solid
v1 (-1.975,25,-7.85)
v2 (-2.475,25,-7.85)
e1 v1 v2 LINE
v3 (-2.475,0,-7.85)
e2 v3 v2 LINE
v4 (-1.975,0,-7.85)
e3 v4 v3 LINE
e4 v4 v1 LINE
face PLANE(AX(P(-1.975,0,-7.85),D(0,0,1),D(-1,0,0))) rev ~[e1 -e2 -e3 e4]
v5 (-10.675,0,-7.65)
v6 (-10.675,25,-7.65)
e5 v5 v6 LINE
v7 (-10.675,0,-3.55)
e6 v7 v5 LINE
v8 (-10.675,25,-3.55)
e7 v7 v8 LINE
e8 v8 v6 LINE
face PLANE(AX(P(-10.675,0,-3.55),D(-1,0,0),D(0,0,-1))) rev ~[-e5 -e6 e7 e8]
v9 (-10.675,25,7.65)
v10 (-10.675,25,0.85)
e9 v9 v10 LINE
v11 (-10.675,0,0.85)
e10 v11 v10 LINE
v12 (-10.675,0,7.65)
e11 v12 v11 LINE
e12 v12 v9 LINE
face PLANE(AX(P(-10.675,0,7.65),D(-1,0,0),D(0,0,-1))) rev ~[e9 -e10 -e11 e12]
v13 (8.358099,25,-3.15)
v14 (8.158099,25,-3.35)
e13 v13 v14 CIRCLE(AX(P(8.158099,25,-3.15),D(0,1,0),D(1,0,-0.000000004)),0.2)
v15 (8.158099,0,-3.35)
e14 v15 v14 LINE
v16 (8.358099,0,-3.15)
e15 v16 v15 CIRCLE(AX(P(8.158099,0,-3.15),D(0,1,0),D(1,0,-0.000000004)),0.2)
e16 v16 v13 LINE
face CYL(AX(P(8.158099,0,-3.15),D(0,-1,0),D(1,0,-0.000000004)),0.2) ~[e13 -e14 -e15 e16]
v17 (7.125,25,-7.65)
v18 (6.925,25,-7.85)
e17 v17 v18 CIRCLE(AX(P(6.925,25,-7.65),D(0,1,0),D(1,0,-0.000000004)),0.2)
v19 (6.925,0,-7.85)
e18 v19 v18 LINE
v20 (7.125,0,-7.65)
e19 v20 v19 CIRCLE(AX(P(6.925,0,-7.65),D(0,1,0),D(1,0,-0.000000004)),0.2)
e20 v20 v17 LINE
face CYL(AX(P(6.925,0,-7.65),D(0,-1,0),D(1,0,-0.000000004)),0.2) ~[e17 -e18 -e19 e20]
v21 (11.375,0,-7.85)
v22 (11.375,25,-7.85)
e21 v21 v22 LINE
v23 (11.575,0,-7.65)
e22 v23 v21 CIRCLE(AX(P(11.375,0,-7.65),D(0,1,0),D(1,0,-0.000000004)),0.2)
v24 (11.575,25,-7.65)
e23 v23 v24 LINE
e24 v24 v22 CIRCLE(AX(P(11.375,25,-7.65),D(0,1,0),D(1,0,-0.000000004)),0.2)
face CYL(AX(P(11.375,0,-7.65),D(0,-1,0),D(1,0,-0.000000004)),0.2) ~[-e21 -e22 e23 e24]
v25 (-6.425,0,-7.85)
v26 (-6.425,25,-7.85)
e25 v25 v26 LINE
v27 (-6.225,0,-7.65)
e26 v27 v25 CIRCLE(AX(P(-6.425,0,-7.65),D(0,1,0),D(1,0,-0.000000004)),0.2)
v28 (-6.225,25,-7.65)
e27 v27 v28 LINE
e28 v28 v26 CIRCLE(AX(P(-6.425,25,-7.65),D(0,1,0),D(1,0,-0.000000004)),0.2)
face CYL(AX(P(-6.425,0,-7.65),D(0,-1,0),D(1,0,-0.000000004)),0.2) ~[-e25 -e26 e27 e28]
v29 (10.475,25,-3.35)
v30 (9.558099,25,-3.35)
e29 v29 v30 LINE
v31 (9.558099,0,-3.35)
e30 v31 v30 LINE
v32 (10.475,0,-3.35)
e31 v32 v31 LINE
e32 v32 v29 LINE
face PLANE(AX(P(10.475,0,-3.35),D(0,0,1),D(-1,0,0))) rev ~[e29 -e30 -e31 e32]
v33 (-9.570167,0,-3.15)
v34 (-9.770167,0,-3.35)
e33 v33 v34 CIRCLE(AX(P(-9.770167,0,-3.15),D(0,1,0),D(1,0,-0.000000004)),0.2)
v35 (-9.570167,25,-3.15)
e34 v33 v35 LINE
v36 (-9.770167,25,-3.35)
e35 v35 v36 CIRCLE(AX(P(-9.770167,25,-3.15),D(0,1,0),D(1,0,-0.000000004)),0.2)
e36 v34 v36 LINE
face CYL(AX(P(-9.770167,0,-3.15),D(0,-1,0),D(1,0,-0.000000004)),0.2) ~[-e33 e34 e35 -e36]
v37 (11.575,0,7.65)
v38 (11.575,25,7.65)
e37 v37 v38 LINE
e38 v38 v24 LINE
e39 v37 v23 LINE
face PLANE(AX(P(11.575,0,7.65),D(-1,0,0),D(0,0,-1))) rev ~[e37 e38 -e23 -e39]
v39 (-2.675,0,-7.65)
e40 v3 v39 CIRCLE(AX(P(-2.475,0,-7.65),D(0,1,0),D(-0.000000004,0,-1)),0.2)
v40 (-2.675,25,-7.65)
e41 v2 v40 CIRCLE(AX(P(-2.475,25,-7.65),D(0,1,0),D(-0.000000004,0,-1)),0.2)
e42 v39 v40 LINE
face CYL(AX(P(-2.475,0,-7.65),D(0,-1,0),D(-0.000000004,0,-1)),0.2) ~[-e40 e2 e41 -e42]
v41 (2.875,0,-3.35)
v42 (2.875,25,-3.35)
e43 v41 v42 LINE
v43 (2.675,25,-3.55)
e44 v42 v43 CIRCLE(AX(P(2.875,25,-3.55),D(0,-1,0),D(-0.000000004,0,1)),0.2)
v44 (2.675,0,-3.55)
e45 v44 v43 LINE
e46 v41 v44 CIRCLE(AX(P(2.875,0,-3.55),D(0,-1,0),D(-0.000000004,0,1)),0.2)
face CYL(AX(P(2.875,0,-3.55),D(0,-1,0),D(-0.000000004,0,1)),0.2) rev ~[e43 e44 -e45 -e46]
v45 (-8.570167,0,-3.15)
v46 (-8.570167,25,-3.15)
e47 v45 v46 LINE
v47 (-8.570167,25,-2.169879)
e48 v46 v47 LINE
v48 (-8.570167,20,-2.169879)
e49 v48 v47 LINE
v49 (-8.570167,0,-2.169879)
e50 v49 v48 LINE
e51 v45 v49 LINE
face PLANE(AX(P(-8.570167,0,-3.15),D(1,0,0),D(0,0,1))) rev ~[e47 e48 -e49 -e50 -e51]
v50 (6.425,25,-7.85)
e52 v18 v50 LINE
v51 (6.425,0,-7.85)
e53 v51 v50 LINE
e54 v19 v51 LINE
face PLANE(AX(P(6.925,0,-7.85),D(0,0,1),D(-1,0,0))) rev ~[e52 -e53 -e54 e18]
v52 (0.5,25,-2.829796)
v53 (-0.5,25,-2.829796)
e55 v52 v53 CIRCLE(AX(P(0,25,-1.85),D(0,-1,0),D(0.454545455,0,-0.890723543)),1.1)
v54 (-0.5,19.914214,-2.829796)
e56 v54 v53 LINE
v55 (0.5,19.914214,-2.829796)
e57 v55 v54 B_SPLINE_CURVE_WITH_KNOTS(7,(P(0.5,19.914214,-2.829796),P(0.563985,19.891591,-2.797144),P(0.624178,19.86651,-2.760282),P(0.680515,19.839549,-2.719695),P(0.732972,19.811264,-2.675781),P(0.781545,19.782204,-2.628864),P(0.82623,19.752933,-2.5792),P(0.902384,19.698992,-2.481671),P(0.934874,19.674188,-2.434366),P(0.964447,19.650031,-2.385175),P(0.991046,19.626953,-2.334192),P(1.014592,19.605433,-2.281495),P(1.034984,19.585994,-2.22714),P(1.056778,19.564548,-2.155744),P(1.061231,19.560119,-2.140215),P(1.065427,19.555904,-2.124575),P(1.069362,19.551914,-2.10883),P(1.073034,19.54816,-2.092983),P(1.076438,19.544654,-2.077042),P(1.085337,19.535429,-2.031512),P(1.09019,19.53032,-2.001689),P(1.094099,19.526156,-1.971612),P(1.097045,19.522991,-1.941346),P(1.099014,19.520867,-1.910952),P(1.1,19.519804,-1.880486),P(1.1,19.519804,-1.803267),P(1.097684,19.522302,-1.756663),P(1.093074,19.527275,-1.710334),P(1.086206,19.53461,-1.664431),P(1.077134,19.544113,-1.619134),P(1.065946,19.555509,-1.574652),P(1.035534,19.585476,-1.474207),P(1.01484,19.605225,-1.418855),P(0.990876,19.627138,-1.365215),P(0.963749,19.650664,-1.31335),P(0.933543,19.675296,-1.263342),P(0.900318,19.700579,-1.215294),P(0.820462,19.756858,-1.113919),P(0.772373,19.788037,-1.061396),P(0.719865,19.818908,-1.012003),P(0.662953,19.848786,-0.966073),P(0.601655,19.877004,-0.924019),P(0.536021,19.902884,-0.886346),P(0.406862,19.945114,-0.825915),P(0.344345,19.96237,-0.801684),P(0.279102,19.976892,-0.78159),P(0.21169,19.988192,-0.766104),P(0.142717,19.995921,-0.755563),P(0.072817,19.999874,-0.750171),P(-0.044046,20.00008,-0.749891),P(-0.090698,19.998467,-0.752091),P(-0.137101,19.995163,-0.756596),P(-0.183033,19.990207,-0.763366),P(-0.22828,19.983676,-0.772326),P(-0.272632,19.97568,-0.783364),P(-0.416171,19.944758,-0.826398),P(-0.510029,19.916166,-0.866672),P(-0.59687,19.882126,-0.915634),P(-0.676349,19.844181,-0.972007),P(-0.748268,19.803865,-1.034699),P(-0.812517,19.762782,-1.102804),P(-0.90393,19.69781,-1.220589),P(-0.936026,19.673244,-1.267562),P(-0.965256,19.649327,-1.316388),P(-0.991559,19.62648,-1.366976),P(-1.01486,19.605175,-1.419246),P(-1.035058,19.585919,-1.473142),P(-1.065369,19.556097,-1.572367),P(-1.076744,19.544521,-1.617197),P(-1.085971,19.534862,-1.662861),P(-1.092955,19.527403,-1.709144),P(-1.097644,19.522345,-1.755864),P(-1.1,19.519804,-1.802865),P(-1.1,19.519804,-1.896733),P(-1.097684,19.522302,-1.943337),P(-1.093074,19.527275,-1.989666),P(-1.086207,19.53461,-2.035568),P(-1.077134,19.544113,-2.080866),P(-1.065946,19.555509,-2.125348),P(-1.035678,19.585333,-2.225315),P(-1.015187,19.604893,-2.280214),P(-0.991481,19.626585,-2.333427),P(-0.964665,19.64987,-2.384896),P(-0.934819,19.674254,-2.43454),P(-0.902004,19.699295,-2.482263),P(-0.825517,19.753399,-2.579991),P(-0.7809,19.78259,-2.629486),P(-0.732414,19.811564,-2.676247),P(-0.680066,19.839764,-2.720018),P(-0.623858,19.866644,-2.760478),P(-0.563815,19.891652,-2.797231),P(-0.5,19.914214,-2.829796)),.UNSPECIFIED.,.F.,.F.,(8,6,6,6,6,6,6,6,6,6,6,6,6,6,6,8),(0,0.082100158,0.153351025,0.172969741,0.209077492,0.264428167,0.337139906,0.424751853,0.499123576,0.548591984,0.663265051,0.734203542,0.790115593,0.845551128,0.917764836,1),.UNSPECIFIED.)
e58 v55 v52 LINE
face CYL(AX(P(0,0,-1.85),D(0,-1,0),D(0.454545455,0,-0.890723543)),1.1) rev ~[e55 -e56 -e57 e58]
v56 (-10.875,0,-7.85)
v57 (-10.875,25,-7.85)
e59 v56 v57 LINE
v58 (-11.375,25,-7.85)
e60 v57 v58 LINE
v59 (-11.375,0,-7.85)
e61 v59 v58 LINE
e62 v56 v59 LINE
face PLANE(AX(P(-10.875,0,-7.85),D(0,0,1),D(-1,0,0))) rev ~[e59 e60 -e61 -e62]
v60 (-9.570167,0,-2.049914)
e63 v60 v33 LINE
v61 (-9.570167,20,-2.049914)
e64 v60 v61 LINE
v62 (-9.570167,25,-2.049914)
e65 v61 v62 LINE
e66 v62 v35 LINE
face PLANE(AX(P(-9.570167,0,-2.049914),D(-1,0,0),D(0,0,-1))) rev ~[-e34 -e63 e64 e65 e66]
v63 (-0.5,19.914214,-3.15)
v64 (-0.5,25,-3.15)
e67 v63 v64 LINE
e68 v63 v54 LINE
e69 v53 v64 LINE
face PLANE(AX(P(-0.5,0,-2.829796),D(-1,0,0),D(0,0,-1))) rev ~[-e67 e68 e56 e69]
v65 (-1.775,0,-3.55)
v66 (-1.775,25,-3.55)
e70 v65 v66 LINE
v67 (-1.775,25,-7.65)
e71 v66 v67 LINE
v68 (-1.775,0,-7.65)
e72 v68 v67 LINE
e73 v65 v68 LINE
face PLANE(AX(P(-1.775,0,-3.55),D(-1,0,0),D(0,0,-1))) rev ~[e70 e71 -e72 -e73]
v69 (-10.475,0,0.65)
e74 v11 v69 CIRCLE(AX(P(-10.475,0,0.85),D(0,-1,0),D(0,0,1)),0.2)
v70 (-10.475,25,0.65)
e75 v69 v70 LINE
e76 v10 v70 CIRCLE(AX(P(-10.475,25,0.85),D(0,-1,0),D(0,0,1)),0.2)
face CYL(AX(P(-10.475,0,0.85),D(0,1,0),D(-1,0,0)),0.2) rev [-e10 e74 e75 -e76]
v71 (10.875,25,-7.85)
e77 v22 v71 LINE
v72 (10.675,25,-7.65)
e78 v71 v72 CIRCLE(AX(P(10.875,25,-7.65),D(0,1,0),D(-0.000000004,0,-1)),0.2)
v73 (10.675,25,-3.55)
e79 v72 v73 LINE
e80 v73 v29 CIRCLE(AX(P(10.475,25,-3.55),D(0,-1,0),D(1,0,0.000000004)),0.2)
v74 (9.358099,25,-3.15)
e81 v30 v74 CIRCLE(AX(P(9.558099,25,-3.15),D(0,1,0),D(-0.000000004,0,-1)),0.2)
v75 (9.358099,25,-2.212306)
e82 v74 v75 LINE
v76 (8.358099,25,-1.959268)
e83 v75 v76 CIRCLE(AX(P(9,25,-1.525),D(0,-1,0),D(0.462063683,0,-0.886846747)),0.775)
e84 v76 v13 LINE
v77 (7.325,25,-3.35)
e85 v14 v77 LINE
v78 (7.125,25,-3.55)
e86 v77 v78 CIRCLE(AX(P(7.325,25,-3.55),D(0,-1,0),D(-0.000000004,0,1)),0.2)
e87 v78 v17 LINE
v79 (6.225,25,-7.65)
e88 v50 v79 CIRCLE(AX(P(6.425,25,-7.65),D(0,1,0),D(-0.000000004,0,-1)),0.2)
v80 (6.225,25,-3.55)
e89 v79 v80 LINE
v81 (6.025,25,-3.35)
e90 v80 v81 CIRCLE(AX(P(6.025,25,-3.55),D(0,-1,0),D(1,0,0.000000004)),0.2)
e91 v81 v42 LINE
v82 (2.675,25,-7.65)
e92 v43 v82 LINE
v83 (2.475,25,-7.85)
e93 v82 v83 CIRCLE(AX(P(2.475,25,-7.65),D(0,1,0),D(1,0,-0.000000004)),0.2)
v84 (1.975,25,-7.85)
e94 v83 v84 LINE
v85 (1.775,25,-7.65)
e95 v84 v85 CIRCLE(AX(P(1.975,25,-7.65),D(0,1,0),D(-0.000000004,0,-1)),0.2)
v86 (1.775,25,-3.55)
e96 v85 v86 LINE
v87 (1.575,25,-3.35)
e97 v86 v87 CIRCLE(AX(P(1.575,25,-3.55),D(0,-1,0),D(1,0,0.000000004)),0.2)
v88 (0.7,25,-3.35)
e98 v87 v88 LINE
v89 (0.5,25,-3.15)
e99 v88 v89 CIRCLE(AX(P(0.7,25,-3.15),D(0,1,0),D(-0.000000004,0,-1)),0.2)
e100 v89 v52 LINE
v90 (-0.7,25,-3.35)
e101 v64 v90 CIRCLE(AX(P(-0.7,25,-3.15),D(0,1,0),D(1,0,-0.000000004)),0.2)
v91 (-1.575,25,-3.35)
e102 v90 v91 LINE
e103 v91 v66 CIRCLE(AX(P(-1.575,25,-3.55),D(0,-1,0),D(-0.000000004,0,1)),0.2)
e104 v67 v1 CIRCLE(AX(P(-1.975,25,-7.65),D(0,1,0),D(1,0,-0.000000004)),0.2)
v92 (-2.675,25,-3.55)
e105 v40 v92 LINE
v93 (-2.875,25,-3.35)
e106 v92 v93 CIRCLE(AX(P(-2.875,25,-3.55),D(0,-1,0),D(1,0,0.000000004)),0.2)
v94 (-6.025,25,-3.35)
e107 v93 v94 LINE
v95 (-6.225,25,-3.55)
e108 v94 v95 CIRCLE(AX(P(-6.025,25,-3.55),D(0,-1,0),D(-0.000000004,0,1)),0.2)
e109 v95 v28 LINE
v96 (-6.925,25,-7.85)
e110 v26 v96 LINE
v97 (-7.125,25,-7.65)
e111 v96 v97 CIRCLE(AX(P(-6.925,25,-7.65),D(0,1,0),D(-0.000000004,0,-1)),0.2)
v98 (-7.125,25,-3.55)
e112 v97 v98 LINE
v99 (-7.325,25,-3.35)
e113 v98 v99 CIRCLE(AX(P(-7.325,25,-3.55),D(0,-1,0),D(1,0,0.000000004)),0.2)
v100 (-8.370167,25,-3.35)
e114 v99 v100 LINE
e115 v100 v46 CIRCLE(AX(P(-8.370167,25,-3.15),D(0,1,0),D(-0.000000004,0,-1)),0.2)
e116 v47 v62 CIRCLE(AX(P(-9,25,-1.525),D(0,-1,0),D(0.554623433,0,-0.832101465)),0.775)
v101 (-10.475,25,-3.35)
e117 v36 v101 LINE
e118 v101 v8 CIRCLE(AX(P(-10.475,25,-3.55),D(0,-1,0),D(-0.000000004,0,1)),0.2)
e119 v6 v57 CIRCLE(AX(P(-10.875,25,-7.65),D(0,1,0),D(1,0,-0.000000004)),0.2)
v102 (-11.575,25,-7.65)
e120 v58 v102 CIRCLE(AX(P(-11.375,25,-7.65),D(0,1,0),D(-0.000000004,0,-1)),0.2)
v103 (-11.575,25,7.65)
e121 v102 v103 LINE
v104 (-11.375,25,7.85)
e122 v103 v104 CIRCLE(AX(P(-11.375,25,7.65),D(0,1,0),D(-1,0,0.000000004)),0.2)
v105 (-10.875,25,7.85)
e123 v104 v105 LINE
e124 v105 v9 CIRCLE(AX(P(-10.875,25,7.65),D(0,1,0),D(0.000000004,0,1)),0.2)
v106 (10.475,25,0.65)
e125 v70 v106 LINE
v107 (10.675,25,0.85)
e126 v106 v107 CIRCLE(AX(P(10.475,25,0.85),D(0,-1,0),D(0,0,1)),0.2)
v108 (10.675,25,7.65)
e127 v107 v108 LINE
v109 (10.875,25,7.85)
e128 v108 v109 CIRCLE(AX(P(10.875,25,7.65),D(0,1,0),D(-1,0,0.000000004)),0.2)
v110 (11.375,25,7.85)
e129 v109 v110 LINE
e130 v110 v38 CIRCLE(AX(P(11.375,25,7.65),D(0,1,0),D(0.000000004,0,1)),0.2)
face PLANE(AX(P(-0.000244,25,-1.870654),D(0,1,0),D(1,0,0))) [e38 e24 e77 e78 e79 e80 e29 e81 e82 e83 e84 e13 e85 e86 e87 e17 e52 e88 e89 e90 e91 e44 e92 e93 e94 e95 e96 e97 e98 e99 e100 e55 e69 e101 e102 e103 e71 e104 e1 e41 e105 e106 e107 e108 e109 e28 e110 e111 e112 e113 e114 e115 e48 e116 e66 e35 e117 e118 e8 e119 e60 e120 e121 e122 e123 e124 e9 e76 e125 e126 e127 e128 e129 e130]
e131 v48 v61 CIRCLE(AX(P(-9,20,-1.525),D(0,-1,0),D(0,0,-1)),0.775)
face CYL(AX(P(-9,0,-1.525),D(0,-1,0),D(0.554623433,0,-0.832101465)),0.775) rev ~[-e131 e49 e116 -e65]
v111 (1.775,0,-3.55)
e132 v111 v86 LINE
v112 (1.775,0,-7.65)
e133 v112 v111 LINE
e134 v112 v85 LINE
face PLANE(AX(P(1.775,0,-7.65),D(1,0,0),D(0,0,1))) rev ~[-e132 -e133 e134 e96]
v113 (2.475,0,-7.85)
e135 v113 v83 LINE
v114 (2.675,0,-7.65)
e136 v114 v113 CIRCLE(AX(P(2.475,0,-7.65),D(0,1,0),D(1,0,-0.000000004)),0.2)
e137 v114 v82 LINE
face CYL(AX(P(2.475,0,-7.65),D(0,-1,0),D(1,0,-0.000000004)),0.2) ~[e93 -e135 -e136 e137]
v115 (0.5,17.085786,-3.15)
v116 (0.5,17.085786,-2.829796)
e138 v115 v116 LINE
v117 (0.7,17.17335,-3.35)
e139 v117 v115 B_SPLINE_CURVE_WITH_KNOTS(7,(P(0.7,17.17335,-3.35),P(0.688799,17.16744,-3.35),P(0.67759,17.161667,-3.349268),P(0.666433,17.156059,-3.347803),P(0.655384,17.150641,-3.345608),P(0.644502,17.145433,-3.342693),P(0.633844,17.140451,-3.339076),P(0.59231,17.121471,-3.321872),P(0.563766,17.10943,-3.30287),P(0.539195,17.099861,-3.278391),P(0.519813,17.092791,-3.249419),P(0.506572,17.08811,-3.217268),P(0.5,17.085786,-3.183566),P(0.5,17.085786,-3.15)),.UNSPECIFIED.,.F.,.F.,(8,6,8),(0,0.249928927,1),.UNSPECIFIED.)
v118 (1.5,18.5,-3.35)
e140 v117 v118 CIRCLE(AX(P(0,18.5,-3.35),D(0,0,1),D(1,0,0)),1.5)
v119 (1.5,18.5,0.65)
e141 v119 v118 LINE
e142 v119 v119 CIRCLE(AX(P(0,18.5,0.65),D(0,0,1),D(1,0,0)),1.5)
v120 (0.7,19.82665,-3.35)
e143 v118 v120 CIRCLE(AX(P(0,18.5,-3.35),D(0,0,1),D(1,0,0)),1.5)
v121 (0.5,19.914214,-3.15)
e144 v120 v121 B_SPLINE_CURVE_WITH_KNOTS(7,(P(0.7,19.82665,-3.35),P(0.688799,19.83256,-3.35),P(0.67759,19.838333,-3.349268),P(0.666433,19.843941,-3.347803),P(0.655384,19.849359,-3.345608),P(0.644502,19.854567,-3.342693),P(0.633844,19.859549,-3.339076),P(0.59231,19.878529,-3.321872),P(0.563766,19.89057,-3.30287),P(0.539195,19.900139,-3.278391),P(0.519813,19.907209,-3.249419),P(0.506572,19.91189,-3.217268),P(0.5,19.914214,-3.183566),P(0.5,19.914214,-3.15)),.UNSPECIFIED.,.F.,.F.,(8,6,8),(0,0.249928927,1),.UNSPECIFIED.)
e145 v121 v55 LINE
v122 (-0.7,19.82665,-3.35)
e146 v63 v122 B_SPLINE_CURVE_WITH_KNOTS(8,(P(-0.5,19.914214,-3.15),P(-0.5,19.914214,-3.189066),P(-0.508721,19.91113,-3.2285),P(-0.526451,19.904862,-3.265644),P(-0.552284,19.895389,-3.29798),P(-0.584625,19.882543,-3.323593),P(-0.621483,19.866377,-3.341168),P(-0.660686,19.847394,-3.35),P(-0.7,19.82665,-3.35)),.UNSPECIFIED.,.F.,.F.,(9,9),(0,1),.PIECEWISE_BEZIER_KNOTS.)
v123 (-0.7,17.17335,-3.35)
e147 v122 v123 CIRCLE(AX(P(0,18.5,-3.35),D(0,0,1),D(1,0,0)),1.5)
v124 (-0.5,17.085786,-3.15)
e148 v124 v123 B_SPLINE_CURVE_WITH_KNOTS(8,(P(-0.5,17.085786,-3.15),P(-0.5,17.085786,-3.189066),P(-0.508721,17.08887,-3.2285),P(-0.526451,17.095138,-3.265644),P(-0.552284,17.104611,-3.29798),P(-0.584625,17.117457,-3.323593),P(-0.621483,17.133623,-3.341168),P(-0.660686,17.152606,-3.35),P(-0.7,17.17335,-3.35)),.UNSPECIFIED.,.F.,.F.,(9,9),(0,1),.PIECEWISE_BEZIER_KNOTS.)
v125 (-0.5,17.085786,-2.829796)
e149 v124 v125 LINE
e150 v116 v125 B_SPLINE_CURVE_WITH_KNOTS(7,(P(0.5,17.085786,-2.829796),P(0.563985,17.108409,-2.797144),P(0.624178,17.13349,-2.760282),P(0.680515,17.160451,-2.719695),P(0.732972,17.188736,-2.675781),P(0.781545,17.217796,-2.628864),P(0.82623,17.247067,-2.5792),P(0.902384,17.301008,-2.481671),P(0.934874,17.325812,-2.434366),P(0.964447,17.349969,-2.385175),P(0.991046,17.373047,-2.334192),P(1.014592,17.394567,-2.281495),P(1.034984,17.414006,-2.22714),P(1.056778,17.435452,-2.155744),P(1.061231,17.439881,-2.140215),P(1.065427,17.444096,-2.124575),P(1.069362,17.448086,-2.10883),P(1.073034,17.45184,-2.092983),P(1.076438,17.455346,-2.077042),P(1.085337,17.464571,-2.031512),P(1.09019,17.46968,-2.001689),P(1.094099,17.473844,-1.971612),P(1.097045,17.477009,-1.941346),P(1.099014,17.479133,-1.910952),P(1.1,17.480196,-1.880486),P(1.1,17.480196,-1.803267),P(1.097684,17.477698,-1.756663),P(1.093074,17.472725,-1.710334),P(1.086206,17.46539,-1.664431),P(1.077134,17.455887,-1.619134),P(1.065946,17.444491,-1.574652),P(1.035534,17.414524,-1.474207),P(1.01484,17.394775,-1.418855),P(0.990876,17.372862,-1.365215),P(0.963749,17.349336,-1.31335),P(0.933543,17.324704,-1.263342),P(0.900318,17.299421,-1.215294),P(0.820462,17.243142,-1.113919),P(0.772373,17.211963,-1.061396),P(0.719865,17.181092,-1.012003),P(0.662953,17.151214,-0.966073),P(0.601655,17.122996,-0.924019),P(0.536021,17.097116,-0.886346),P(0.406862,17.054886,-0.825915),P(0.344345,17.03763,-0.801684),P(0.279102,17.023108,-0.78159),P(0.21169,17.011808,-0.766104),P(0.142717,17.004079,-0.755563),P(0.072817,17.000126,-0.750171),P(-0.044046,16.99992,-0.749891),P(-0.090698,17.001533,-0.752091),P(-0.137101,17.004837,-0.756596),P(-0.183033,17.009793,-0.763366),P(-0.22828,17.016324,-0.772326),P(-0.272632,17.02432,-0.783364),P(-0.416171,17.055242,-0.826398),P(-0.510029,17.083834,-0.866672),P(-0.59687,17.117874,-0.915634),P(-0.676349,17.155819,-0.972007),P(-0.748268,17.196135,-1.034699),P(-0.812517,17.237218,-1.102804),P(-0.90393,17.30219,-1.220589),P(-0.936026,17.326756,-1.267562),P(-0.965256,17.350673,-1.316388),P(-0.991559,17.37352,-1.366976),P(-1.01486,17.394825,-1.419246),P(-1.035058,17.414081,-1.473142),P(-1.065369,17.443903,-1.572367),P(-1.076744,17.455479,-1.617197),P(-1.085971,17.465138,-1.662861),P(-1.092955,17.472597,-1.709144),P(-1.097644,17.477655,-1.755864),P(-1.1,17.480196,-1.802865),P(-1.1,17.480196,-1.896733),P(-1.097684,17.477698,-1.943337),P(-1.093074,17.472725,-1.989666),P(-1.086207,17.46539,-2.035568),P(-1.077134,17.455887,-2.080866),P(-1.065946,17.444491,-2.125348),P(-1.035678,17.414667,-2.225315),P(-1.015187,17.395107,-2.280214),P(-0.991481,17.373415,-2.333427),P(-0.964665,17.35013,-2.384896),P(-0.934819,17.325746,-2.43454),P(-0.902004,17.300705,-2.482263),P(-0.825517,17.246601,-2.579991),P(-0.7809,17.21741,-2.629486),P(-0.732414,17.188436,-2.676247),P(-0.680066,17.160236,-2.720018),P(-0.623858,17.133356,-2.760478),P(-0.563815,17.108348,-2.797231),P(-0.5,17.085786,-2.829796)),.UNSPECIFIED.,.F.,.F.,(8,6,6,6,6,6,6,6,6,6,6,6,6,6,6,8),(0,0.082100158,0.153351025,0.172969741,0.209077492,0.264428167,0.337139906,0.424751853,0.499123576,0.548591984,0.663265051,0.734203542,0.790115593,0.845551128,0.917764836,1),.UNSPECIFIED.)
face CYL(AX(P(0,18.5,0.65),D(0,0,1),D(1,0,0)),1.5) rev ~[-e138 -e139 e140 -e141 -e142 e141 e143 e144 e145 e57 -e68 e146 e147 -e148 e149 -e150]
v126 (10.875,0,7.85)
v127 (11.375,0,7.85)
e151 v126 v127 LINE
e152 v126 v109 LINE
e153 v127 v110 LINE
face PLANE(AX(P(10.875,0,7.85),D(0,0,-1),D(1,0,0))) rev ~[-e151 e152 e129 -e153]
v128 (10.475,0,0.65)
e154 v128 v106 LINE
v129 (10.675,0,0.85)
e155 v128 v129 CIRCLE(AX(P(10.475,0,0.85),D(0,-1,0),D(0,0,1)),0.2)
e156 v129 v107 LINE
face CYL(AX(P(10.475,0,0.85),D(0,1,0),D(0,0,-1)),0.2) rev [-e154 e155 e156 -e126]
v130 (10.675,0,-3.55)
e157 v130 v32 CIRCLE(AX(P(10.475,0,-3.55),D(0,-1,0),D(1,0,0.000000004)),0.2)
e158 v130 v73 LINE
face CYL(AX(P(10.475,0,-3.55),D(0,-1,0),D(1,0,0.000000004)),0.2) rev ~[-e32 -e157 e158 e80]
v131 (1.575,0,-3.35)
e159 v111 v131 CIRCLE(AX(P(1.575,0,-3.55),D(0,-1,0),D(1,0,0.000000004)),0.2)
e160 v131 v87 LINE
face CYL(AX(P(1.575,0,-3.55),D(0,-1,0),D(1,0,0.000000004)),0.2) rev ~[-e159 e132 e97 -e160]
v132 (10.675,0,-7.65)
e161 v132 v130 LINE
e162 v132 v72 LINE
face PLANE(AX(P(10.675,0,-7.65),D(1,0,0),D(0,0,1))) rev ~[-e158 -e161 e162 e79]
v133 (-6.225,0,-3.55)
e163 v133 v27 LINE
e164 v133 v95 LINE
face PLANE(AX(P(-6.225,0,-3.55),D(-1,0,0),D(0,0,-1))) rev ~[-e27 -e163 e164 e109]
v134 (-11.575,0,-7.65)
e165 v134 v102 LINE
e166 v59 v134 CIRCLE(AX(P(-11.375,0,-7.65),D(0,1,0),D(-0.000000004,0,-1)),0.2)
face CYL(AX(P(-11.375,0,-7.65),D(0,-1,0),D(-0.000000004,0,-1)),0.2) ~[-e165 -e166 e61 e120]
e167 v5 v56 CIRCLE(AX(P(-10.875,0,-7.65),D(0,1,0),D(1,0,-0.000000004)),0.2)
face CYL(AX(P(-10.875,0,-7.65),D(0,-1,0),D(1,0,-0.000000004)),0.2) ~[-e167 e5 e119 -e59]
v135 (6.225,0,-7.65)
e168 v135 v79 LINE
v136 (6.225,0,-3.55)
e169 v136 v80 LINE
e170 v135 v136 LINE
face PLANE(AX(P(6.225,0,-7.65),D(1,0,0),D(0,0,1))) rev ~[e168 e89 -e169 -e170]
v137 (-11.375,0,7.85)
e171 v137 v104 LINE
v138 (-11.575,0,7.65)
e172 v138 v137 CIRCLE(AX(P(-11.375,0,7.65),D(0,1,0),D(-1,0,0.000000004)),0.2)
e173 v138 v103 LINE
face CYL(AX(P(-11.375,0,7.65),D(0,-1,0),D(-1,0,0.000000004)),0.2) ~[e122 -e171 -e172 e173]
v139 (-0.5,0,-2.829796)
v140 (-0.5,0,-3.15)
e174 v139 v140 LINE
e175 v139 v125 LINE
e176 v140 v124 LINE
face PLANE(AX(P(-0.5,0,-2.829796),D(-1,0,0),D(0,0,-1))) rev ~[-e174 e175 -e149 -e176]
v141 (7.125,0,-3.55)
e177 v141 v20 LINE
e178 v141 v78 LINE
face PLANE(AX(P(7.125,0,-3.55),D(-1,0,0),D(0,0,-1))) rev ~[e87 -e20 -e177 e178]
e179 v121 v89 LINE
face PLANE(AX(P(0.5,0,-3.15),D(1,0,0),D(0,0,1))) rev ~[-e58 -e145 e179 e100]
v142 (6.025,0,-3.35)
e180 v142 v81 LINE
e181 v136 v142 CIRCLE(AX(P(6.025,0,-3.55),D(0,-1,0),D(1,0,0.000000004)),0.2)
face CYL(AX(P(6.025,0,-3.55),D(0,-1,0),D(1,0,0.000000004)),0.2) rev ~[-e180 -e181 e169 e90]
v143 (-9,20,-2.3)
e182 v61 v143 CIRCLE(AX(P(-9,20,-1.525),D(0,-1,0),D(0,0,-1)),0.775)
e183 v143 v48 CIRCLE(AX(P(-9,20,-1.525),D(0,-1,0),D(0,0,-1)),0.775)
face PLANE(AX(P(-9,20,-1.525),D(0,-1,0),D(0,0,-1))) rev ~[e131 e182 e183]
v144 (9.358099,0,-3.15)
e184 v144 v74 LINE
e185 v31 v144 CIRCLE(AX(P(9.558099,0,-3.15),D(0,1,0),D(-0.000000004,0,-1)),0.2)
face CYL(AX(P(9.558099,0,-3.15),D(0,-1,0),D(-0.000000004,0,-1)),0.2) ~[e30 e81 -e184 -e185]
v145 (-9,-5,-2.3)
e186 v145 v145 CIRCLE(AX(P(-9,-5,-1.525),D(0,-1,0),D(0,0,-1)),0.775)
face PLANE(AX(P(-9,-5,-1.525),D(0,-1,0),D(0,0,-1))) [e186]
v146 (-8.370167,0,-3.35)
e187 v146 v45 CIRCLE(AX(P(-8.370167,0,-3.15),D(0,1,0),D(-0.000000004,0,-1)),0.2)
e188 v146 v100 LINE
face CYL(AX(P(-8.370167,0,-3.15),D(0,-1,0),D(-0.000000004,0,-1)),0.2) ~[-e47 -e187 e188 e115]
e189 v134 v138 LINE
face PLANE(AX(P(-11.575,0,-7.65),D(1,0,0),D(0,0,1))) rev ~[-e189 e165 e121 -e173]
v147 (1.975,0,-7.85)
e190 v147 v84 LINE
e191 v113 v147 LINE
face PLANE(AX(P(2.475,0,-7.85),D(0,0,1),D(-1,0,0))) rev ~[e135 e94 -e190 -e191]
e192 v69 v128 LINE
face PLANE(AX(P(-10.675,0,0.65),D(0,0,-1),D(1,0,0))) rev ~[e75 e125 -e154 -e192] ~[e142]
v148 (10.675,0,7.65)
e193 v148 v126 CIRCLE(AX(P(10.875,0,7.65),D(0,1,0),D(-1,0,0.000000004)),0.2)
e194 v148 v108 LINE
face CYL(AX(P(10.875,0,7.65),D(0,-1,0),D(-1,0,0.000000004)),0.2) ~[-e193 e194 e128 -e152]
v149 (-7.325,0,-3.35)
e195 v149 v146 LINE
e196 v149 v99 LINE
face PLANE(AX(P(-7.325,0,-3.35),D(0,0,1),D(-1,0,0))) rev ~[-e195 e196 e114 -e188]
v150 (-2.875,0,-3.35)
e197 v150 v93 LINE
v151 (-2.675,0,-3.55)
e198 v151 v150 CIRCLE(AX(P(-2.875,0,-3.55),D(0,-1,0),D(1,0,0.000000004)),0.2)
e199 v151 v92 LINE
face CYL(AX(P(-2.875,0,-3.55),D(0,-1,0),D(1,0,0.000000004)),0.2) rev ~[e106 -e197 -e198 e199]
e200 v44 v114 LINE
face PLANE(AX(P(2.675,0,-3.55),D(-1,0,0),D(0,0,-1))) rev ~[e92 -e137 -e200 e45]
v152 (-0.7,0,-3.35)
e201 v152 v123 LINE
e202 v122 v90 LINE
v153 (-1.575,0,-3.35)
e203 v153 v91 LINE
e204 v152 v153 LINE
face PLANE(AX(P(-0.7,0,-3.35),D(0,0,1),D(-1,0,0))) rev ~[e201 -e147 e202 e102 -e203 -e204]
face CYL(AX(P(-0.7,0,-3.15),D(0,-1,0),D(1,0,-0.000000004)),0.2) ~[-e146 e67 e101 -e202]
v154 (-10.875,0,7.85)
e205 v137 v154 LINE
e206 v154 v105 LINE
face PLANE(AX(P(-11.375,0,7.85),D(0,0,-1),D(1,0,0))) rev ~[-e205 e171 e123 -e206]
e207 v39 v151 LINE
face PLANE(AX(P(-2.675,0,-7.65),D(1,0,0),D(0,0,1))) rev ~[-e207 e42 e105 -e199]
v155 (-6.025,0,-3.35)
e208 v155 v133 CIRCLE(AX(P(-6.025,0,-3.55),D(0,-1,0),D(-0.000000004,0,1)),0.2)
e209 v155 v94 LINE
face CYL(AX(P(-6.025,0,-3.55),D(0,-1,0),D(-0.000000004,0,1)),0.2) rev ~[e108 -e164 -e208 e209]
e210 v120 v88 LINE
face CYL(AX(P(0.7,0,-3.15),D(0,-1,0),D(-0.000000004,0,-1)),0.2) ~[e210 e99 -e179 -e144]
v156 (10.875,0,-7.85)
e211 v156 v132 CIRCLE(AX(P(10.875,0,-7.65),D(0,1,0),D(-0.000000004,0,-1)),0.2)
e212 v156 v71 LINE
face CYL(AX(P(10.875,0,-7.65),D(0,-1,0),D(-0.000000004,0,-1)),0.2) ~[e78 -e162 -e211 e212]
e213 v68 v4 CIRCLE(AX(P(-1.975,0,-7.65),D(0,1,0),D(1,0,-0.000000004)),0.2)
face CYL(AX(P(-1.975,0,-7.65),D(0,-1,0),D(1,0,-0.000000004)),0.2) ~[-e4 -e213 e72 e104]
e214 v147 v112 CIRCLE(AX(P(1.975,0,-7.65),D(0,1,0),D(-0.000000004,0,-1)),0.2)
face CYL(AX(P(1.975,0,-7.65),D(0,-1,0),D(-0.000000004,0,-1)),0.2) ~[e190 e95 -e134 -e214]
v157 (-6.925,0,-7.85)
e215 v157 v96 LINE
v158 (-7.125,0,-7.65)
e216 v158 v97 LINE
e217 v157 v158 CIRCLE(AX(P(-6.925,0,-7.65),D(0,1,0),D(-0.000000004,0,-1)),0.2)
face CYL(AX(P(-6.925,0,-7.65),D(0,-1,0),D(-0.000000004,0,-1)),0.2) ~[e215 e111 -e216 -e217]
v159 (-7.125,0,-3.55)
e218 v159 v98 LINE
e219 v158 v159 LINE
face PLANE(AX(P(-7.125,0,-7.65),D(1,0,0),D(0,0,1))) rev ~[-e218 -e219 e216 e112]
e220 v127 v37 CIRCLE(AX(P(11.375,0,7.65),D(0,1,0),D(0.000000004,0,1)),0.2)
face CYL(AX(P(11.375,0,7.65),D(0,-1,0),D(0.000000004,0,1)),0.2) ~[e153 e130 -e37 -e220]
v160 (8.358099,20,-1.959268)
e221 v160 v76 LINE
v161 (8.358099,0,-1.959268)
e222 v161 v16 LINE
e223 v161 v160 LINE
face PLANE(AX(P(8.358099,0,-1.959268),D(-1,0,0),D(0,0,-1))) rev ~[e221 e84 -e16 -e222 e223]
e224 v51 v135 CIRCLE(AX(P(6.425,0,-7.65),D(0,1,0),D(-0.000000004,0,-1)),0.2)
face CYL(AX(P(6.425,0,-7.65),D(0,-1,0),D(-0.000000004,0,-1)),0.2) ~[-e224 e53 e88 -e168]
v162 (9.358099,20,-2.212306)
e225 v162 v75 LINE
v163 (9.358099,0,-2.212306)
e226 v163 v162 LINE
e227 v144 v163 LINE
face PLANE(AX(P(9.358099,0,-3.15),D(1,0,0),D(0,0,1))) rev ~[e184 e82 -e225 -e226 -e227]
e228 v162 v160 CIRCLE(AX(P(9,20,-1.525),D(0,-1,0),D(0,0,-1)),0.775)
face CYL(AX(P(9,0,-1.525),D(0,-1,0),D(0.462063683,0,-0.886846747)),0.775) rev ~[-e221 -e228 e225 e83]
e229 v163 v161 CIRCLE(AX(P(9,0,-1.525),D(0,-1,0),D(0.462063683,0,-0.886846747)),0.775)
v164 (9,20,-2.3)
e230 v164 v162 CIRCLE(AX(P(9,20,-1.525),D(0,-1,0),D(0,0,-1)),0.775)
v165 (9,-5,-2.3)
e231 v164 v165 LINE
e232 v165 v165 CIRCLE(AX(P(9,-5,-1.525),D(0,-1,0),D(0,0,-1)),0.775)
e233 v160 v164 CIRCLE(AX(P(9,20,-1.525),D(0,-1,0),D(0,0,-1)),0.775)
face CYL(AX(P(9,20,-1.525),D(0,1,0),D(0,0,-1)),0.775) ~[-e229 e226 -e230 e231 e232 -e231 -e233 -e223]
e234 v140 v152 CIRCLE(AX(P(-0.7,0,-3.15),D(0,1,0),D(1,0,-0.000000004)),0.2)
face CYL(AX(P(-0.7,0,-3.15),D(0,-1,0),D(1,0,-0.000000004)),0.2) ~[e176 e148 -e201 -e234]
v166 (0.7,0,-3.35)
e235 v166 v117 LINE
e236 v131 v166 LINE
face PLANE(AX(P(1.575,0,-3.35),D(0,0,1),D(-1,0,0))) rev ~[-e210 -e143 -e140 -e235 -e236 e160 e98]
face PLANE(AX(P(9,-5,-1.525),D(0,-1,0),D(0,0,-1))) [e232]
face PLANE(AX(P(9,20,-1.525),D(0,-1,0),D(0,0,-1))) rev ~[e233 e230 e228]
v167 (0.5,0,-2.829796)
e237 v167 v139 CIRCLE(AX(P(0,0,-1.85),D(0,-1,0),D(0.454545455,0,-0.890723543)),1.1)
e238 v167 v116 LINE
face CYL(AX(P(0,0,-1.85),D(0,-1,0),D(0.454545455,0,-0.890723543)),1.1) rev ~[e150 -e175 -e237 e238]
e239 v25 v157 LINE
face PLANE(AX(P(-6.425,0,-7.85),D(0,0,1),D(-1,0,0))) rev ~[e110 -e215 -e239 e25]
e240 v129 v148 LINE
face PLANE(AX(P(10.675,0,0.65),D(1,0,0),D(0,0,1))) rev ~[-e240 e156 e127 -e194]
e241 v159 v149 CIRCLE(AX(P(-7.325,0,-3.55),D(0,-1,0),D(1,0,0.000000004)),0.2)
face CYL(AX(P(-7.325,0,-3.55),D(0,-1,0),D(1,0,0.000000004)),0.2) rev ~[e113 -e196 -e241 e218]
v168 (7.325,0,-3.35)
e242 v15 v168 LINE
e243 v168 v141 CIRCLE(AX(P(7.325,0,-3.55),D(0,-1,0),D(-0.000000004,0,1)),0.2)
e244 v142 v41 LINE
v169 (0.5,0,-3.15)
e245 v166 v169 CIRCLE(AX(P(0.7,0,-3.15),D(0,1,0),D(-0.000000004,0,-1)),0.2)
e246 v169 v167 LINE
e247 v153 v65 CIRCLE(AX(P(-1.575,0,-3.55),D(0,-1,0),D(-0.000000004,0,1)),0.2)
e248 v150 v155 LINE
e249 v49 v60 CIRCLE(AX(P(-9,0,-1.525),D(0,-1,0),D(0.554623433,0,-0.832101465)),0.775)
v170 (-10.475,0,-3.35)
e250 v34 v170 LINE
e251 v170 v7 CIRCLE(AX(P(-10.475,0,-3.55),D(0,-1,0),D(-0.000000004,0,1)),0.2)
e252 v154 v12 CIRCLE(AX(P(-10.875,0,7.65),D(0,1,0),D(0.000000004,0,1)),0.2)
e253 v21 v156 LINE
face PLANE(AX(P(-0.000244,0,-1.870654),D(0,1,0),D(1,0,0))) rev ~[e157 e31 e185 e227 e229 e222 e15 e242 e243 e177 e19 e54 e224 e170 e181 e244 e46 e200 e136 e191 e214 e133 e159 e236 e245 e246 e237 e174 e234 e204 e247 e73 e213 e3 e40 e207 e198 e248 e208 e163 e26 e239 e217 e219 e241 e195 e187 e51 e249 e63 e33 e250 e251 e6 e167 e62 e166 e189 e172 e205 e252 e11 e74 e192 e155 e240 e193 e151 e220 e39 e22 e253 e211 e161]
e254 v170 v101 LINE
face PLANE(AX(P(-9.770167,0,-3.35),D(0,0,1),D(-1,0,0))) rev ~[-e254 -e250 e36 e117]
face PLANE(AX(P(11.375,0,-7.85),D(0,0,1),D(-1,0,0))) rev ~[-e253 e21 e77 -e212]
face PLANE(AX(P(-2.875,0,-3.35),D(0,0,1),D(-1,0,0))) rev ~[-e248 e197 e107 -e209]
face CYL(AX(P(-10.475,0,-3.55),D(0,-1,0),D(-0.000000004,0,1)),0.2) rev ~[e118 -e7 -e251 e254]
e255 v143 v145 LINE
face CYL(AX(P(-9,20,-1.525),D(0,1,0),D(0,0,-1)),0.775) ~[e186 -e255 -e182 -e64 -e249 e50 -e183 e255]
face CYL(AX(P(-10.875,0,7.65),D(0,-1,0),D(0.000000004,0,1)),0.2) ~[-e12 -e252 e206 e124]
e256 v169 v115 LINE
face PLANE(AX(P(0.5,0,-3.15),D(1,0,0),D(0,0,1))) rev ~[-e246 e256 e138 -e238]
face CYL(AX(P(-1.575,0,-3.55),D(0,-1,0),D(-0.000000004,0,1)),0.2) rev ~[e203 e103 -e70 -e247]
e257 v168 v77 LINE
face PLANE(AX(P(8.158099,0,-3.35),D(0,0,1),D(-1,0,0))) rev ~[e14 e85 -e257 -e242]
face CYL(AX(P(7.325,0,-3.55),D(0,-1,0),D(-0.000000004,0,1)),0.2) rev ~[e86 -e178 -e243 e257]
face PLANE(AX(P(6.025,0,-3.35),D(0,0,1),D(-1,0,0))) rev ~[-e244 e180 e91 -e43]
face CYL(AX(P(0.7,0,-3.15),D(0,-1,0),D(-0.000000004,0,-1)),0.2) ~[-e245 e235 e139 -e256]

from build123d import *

# Parameters (mm, degrees)
EXTRUDE_1_DEPTH      = 25
EXTRUDE_2_DEPTH      = 5
EXTRUDE_2_DEPTH_BACK = 20
SKETCH_2_R           = 0.775
FILLET_1_R           = 0.2
SKETCH_3_R           = 1.5
CUT_EXTRUDE_1_DEPTH  = 10


with BuildPart() as part:
    # 草图1 → 凸台-拉伸1 (new body)
    with BuildSketch(Plane(origin=(0, 0, 0), x_dir=(1, 0, 0), z_dir=(0, 1, 0))):
        with BuildLine():
            Line((-11.375, -7.85), (-10.875, -7.85))
            ThreePointArc((-10.875, -7.85), (-10.733578644, -7.791421356), (-10.675, -7.65))
            Line((-10.675, -7.65), (-10.675, -0.65))
            Line((-10.675, -0.65), (10.675, -0.65))
            Line((10.675, -0.65), (10.675, -7.65))
            ThreePointArc((10.675, -7.65), (10.733578644, -7.791421356), (10.875, -7.85))
            Line((10.875, -7.85), (11.375, -7.85))
            ThreePointArc((11.375, -7.85), (11.516421356, -7.791421356), (11.575, -7.65))
            Line((11.575, -7.65), (11.575, 7.65))
            ThreePointArc((11.575, 7.65), (11.516421356, 7.791421356), (11.375, 7.85))
            Line((11.375, 7.85), (10.875, 7.85))
            ThreePointArc((10.875, 7.85), (10.733578644, 7.791421356), (10.675, 7.65))
            Line((10.675, 7.65), (10.675, 3.55))
            ThreePointArc((10.675, 3.55), (10.616421356, 3.408578644), (10.475, 3.35))
            Line((10.475, 3.35), (9.558099354, 3.35))
            ThreePointArc((9.558099354, 3.35), (9.416677998, 3.291421356), (9.358099354, 3.15))
            Line((9.358099354, 3.15), (9.358099354, 2.212306229))
            ThreePointArc((9.358099354, 2.212306229), (9.190112859, 0.773679762), (8.358099354, 1.959267845))
            Line((8.358099354, 1.959267845), (8.358099354, 3.15))
            ThreePointArc((8.358099354, 3.15), (8.29952071, 3.291421356), (8.158099354, 3.35))
            Line((8.158099354, 3.35), (7.325, 3.35))
            ThreePointArc((7.325, 3.35), (7.183578644, 3.408578644), (7.125, 3.55))
            Line((7.125, 3.55), (7.125, 7.65))
            ThreePointArc((7.125, 7.65), (7.066421356, 7.791421356), (6.925, 7.85))
            Line((6.925, 7.85), (6.425, 7.85))
            ThreePointArc((6.425, 7.85), (6.283578644, 7.791421356), (6.225, 7.65))
            Line((6.225, 7.65), (6.225, 3.55))
            ThreePointArc((6.225, 3.55), (6.166421356, 3.408578644), (6.025, 3.35))
            Line((6.025, 3.35), (2.875, 3.35))
            ThreePointArc((2.875, 3.35), (2.733578644, 3.408578644), (2.675, 3.55))
            Line((2.675, 3.55), (2.675, 7.65))
            ThreePointArc((2.675, 7.65), (2.616421356, 7.791421356), (2.475, 7.85))
            Line((2.475, 7.85), (1.975, 7.85))
            ThreePointArc((1.975, 7.85), (1.833578644, 7.791421356), (1.775, 7.65))
            Line((1.775, 7.65), (1.775, 3.55))
            ThreePointArc((1.775, 3.55), (1.716421356, 3.408578644), (1.575, 3.35))
            Line((1.575, 3.35), (0.7, 3.35))
            ThreePointArc((0.7, 3.35), (0.558578644, 3.291421356), (0.5, 3.15))
            Line((0.5, 3.15), (0.5, 2.829795897))
            ThreePointArc((0.5, 2.829795897), (0, 0.75), (-0.5, 2.829795897))
            Line((-0.5, 2.829795897), (-0.5, 3.15))
            ThreePointArc((-0.5, 3.15), (-0.558578644, 3.291421356), (-0.7, 3.35))
            Line((-0.7, 3.35), (-1.575, 3.35))
            ThreePointArc((-1.575, 3.35), (-1.716421356, 3.408578644), (-1.775, 3.55))
            Line((-1.775, 3.55), (-1.775, 7.65))
            ThreePointArc((-1.775, 7.65), (-1.833578644, 7.791421356), (-1.975, 7.85))
            Line((-1.975, 7.85), (-2.475, 7.85))
            ThreePointArc((-2.475, 7.85), (-2.616421356, 7.791421356), (-2.675, 7.65))
            Line((-2.675, 7.65), (-2.675, 3.55))
            ThreePointArc((-2.675, 3.55), (-2.733578644, 3.408578644), (-2.875, 3.35))
            Line((-2.875, 3.35), (-6.025, 3.35))
            ThreePointArc((-6.025, 3.35), (-6.166421356, 3.408578644), (-6.225, 3.55))
            Line((-6.225, 3.55), (-6.225, 7.65))
            ThreePointArc((-6.225, 7.65), (-6.283578644, 7.791421356), (-6.425, 7.85))
            Line((-6.425, 7.85), (-6.925, 7.85))
            ThreePointArc((-6.925, 7.85), (-7.066421356, 7.791421356), (-7.125, 7.65))
            Line((-7.125, 7.65), (-7.125, 3.55))
            ThreePointArc((-7.125, 3.55), (-7.183578644, 3.408578644), (-7.325, 3.35))
            Line((-7.325, 3.35), (-8.37016684, 3.35))
            ThreePointArc((-8.37016684, 3.35), (-8.511588196, 3.291421356), (-8.57016684, 3.15))
            Line((-8.57016684, 3.15), (-8.57016684, 2.169878635))
            ThreePointArc((-8.57016684, 2.169878635), (-8.907689329, 0.755517226), (-9.57016684, 2.049914064))
            Line((-9.57016684, 2.049914064), (-9.57016684, 3.15))
            ThreePointArc((-9.57016684, 3.15), (-9.628745484, 3.291421356), (-9.77016684, 3.35))
            Line((-9.77016684, 3.35), (-10.475, 3.35))
            ThreePointArc((-10.475, 3.35), (-10.616421356, 3.408578644), (-10.675, 3.55))
            Line((-10.675, 3.55), (-10.675, 7.65))
            ThreePointArc((-10.675, 7.65), (-10.733578644, 7.791421356), (-10.875, 7.85))
            Line((-10.875, 7.85), (-11.375, 7.85))
            ThreePointArc((-11.375, 7.85), (-11.516421356, 7.791421356), (-11.575, 7.65))
            Line((-11.575, 7.65), (-11.575, -7.65))
            ThreePointArc((-11.575, -7.65), (-11.516421356, -7.791421356), (-11.375, -7.85))
        make_face()
    extrude(amount=EXTRUDE_1_DEPTH)

    # 草图2 → 凸台-拉伸2 (add, two sides: drawn at the far end of the back side and taken through both)
    with BuildSketch(Plane.XZ.offset(-EXTRUDE_2_DEPTH_BACK)):
        with Locations(Location((-9, -1.525, 0), (0, 0, 270))):
            Circle(SKETCH_2_R)
        with Locations(Location((9, -1.525, 0), (0, 0, 270))):
            Circle(SKETCH_2_R)
    extrude(amount=EXTRUDE_2_DEPTH + EXTRUDE_2_DEPTH_BACK)

    # 圆角1
    fillet_1_edges = [part.edges().sort_by_distance(p)[0] for p in [
        (-10.675, 12.5, 0.65),
        (10.675, 12.5, 0.65),
    ]]
    fillet(fillet_1_edges, radius=FILLET_1_R)

    # 草图3 → 切除-拉伸1 (cut)
    with BuildSketch(Plane.XY.offset(0.65)):
        with Locations((0, 18.5)):
            Circle(SKETCH_3_R)
    extrude(amount=-CUT_EXTRUDE_1_DEPTH, mode=Mode.SUBTRACT)


solid = part.part
